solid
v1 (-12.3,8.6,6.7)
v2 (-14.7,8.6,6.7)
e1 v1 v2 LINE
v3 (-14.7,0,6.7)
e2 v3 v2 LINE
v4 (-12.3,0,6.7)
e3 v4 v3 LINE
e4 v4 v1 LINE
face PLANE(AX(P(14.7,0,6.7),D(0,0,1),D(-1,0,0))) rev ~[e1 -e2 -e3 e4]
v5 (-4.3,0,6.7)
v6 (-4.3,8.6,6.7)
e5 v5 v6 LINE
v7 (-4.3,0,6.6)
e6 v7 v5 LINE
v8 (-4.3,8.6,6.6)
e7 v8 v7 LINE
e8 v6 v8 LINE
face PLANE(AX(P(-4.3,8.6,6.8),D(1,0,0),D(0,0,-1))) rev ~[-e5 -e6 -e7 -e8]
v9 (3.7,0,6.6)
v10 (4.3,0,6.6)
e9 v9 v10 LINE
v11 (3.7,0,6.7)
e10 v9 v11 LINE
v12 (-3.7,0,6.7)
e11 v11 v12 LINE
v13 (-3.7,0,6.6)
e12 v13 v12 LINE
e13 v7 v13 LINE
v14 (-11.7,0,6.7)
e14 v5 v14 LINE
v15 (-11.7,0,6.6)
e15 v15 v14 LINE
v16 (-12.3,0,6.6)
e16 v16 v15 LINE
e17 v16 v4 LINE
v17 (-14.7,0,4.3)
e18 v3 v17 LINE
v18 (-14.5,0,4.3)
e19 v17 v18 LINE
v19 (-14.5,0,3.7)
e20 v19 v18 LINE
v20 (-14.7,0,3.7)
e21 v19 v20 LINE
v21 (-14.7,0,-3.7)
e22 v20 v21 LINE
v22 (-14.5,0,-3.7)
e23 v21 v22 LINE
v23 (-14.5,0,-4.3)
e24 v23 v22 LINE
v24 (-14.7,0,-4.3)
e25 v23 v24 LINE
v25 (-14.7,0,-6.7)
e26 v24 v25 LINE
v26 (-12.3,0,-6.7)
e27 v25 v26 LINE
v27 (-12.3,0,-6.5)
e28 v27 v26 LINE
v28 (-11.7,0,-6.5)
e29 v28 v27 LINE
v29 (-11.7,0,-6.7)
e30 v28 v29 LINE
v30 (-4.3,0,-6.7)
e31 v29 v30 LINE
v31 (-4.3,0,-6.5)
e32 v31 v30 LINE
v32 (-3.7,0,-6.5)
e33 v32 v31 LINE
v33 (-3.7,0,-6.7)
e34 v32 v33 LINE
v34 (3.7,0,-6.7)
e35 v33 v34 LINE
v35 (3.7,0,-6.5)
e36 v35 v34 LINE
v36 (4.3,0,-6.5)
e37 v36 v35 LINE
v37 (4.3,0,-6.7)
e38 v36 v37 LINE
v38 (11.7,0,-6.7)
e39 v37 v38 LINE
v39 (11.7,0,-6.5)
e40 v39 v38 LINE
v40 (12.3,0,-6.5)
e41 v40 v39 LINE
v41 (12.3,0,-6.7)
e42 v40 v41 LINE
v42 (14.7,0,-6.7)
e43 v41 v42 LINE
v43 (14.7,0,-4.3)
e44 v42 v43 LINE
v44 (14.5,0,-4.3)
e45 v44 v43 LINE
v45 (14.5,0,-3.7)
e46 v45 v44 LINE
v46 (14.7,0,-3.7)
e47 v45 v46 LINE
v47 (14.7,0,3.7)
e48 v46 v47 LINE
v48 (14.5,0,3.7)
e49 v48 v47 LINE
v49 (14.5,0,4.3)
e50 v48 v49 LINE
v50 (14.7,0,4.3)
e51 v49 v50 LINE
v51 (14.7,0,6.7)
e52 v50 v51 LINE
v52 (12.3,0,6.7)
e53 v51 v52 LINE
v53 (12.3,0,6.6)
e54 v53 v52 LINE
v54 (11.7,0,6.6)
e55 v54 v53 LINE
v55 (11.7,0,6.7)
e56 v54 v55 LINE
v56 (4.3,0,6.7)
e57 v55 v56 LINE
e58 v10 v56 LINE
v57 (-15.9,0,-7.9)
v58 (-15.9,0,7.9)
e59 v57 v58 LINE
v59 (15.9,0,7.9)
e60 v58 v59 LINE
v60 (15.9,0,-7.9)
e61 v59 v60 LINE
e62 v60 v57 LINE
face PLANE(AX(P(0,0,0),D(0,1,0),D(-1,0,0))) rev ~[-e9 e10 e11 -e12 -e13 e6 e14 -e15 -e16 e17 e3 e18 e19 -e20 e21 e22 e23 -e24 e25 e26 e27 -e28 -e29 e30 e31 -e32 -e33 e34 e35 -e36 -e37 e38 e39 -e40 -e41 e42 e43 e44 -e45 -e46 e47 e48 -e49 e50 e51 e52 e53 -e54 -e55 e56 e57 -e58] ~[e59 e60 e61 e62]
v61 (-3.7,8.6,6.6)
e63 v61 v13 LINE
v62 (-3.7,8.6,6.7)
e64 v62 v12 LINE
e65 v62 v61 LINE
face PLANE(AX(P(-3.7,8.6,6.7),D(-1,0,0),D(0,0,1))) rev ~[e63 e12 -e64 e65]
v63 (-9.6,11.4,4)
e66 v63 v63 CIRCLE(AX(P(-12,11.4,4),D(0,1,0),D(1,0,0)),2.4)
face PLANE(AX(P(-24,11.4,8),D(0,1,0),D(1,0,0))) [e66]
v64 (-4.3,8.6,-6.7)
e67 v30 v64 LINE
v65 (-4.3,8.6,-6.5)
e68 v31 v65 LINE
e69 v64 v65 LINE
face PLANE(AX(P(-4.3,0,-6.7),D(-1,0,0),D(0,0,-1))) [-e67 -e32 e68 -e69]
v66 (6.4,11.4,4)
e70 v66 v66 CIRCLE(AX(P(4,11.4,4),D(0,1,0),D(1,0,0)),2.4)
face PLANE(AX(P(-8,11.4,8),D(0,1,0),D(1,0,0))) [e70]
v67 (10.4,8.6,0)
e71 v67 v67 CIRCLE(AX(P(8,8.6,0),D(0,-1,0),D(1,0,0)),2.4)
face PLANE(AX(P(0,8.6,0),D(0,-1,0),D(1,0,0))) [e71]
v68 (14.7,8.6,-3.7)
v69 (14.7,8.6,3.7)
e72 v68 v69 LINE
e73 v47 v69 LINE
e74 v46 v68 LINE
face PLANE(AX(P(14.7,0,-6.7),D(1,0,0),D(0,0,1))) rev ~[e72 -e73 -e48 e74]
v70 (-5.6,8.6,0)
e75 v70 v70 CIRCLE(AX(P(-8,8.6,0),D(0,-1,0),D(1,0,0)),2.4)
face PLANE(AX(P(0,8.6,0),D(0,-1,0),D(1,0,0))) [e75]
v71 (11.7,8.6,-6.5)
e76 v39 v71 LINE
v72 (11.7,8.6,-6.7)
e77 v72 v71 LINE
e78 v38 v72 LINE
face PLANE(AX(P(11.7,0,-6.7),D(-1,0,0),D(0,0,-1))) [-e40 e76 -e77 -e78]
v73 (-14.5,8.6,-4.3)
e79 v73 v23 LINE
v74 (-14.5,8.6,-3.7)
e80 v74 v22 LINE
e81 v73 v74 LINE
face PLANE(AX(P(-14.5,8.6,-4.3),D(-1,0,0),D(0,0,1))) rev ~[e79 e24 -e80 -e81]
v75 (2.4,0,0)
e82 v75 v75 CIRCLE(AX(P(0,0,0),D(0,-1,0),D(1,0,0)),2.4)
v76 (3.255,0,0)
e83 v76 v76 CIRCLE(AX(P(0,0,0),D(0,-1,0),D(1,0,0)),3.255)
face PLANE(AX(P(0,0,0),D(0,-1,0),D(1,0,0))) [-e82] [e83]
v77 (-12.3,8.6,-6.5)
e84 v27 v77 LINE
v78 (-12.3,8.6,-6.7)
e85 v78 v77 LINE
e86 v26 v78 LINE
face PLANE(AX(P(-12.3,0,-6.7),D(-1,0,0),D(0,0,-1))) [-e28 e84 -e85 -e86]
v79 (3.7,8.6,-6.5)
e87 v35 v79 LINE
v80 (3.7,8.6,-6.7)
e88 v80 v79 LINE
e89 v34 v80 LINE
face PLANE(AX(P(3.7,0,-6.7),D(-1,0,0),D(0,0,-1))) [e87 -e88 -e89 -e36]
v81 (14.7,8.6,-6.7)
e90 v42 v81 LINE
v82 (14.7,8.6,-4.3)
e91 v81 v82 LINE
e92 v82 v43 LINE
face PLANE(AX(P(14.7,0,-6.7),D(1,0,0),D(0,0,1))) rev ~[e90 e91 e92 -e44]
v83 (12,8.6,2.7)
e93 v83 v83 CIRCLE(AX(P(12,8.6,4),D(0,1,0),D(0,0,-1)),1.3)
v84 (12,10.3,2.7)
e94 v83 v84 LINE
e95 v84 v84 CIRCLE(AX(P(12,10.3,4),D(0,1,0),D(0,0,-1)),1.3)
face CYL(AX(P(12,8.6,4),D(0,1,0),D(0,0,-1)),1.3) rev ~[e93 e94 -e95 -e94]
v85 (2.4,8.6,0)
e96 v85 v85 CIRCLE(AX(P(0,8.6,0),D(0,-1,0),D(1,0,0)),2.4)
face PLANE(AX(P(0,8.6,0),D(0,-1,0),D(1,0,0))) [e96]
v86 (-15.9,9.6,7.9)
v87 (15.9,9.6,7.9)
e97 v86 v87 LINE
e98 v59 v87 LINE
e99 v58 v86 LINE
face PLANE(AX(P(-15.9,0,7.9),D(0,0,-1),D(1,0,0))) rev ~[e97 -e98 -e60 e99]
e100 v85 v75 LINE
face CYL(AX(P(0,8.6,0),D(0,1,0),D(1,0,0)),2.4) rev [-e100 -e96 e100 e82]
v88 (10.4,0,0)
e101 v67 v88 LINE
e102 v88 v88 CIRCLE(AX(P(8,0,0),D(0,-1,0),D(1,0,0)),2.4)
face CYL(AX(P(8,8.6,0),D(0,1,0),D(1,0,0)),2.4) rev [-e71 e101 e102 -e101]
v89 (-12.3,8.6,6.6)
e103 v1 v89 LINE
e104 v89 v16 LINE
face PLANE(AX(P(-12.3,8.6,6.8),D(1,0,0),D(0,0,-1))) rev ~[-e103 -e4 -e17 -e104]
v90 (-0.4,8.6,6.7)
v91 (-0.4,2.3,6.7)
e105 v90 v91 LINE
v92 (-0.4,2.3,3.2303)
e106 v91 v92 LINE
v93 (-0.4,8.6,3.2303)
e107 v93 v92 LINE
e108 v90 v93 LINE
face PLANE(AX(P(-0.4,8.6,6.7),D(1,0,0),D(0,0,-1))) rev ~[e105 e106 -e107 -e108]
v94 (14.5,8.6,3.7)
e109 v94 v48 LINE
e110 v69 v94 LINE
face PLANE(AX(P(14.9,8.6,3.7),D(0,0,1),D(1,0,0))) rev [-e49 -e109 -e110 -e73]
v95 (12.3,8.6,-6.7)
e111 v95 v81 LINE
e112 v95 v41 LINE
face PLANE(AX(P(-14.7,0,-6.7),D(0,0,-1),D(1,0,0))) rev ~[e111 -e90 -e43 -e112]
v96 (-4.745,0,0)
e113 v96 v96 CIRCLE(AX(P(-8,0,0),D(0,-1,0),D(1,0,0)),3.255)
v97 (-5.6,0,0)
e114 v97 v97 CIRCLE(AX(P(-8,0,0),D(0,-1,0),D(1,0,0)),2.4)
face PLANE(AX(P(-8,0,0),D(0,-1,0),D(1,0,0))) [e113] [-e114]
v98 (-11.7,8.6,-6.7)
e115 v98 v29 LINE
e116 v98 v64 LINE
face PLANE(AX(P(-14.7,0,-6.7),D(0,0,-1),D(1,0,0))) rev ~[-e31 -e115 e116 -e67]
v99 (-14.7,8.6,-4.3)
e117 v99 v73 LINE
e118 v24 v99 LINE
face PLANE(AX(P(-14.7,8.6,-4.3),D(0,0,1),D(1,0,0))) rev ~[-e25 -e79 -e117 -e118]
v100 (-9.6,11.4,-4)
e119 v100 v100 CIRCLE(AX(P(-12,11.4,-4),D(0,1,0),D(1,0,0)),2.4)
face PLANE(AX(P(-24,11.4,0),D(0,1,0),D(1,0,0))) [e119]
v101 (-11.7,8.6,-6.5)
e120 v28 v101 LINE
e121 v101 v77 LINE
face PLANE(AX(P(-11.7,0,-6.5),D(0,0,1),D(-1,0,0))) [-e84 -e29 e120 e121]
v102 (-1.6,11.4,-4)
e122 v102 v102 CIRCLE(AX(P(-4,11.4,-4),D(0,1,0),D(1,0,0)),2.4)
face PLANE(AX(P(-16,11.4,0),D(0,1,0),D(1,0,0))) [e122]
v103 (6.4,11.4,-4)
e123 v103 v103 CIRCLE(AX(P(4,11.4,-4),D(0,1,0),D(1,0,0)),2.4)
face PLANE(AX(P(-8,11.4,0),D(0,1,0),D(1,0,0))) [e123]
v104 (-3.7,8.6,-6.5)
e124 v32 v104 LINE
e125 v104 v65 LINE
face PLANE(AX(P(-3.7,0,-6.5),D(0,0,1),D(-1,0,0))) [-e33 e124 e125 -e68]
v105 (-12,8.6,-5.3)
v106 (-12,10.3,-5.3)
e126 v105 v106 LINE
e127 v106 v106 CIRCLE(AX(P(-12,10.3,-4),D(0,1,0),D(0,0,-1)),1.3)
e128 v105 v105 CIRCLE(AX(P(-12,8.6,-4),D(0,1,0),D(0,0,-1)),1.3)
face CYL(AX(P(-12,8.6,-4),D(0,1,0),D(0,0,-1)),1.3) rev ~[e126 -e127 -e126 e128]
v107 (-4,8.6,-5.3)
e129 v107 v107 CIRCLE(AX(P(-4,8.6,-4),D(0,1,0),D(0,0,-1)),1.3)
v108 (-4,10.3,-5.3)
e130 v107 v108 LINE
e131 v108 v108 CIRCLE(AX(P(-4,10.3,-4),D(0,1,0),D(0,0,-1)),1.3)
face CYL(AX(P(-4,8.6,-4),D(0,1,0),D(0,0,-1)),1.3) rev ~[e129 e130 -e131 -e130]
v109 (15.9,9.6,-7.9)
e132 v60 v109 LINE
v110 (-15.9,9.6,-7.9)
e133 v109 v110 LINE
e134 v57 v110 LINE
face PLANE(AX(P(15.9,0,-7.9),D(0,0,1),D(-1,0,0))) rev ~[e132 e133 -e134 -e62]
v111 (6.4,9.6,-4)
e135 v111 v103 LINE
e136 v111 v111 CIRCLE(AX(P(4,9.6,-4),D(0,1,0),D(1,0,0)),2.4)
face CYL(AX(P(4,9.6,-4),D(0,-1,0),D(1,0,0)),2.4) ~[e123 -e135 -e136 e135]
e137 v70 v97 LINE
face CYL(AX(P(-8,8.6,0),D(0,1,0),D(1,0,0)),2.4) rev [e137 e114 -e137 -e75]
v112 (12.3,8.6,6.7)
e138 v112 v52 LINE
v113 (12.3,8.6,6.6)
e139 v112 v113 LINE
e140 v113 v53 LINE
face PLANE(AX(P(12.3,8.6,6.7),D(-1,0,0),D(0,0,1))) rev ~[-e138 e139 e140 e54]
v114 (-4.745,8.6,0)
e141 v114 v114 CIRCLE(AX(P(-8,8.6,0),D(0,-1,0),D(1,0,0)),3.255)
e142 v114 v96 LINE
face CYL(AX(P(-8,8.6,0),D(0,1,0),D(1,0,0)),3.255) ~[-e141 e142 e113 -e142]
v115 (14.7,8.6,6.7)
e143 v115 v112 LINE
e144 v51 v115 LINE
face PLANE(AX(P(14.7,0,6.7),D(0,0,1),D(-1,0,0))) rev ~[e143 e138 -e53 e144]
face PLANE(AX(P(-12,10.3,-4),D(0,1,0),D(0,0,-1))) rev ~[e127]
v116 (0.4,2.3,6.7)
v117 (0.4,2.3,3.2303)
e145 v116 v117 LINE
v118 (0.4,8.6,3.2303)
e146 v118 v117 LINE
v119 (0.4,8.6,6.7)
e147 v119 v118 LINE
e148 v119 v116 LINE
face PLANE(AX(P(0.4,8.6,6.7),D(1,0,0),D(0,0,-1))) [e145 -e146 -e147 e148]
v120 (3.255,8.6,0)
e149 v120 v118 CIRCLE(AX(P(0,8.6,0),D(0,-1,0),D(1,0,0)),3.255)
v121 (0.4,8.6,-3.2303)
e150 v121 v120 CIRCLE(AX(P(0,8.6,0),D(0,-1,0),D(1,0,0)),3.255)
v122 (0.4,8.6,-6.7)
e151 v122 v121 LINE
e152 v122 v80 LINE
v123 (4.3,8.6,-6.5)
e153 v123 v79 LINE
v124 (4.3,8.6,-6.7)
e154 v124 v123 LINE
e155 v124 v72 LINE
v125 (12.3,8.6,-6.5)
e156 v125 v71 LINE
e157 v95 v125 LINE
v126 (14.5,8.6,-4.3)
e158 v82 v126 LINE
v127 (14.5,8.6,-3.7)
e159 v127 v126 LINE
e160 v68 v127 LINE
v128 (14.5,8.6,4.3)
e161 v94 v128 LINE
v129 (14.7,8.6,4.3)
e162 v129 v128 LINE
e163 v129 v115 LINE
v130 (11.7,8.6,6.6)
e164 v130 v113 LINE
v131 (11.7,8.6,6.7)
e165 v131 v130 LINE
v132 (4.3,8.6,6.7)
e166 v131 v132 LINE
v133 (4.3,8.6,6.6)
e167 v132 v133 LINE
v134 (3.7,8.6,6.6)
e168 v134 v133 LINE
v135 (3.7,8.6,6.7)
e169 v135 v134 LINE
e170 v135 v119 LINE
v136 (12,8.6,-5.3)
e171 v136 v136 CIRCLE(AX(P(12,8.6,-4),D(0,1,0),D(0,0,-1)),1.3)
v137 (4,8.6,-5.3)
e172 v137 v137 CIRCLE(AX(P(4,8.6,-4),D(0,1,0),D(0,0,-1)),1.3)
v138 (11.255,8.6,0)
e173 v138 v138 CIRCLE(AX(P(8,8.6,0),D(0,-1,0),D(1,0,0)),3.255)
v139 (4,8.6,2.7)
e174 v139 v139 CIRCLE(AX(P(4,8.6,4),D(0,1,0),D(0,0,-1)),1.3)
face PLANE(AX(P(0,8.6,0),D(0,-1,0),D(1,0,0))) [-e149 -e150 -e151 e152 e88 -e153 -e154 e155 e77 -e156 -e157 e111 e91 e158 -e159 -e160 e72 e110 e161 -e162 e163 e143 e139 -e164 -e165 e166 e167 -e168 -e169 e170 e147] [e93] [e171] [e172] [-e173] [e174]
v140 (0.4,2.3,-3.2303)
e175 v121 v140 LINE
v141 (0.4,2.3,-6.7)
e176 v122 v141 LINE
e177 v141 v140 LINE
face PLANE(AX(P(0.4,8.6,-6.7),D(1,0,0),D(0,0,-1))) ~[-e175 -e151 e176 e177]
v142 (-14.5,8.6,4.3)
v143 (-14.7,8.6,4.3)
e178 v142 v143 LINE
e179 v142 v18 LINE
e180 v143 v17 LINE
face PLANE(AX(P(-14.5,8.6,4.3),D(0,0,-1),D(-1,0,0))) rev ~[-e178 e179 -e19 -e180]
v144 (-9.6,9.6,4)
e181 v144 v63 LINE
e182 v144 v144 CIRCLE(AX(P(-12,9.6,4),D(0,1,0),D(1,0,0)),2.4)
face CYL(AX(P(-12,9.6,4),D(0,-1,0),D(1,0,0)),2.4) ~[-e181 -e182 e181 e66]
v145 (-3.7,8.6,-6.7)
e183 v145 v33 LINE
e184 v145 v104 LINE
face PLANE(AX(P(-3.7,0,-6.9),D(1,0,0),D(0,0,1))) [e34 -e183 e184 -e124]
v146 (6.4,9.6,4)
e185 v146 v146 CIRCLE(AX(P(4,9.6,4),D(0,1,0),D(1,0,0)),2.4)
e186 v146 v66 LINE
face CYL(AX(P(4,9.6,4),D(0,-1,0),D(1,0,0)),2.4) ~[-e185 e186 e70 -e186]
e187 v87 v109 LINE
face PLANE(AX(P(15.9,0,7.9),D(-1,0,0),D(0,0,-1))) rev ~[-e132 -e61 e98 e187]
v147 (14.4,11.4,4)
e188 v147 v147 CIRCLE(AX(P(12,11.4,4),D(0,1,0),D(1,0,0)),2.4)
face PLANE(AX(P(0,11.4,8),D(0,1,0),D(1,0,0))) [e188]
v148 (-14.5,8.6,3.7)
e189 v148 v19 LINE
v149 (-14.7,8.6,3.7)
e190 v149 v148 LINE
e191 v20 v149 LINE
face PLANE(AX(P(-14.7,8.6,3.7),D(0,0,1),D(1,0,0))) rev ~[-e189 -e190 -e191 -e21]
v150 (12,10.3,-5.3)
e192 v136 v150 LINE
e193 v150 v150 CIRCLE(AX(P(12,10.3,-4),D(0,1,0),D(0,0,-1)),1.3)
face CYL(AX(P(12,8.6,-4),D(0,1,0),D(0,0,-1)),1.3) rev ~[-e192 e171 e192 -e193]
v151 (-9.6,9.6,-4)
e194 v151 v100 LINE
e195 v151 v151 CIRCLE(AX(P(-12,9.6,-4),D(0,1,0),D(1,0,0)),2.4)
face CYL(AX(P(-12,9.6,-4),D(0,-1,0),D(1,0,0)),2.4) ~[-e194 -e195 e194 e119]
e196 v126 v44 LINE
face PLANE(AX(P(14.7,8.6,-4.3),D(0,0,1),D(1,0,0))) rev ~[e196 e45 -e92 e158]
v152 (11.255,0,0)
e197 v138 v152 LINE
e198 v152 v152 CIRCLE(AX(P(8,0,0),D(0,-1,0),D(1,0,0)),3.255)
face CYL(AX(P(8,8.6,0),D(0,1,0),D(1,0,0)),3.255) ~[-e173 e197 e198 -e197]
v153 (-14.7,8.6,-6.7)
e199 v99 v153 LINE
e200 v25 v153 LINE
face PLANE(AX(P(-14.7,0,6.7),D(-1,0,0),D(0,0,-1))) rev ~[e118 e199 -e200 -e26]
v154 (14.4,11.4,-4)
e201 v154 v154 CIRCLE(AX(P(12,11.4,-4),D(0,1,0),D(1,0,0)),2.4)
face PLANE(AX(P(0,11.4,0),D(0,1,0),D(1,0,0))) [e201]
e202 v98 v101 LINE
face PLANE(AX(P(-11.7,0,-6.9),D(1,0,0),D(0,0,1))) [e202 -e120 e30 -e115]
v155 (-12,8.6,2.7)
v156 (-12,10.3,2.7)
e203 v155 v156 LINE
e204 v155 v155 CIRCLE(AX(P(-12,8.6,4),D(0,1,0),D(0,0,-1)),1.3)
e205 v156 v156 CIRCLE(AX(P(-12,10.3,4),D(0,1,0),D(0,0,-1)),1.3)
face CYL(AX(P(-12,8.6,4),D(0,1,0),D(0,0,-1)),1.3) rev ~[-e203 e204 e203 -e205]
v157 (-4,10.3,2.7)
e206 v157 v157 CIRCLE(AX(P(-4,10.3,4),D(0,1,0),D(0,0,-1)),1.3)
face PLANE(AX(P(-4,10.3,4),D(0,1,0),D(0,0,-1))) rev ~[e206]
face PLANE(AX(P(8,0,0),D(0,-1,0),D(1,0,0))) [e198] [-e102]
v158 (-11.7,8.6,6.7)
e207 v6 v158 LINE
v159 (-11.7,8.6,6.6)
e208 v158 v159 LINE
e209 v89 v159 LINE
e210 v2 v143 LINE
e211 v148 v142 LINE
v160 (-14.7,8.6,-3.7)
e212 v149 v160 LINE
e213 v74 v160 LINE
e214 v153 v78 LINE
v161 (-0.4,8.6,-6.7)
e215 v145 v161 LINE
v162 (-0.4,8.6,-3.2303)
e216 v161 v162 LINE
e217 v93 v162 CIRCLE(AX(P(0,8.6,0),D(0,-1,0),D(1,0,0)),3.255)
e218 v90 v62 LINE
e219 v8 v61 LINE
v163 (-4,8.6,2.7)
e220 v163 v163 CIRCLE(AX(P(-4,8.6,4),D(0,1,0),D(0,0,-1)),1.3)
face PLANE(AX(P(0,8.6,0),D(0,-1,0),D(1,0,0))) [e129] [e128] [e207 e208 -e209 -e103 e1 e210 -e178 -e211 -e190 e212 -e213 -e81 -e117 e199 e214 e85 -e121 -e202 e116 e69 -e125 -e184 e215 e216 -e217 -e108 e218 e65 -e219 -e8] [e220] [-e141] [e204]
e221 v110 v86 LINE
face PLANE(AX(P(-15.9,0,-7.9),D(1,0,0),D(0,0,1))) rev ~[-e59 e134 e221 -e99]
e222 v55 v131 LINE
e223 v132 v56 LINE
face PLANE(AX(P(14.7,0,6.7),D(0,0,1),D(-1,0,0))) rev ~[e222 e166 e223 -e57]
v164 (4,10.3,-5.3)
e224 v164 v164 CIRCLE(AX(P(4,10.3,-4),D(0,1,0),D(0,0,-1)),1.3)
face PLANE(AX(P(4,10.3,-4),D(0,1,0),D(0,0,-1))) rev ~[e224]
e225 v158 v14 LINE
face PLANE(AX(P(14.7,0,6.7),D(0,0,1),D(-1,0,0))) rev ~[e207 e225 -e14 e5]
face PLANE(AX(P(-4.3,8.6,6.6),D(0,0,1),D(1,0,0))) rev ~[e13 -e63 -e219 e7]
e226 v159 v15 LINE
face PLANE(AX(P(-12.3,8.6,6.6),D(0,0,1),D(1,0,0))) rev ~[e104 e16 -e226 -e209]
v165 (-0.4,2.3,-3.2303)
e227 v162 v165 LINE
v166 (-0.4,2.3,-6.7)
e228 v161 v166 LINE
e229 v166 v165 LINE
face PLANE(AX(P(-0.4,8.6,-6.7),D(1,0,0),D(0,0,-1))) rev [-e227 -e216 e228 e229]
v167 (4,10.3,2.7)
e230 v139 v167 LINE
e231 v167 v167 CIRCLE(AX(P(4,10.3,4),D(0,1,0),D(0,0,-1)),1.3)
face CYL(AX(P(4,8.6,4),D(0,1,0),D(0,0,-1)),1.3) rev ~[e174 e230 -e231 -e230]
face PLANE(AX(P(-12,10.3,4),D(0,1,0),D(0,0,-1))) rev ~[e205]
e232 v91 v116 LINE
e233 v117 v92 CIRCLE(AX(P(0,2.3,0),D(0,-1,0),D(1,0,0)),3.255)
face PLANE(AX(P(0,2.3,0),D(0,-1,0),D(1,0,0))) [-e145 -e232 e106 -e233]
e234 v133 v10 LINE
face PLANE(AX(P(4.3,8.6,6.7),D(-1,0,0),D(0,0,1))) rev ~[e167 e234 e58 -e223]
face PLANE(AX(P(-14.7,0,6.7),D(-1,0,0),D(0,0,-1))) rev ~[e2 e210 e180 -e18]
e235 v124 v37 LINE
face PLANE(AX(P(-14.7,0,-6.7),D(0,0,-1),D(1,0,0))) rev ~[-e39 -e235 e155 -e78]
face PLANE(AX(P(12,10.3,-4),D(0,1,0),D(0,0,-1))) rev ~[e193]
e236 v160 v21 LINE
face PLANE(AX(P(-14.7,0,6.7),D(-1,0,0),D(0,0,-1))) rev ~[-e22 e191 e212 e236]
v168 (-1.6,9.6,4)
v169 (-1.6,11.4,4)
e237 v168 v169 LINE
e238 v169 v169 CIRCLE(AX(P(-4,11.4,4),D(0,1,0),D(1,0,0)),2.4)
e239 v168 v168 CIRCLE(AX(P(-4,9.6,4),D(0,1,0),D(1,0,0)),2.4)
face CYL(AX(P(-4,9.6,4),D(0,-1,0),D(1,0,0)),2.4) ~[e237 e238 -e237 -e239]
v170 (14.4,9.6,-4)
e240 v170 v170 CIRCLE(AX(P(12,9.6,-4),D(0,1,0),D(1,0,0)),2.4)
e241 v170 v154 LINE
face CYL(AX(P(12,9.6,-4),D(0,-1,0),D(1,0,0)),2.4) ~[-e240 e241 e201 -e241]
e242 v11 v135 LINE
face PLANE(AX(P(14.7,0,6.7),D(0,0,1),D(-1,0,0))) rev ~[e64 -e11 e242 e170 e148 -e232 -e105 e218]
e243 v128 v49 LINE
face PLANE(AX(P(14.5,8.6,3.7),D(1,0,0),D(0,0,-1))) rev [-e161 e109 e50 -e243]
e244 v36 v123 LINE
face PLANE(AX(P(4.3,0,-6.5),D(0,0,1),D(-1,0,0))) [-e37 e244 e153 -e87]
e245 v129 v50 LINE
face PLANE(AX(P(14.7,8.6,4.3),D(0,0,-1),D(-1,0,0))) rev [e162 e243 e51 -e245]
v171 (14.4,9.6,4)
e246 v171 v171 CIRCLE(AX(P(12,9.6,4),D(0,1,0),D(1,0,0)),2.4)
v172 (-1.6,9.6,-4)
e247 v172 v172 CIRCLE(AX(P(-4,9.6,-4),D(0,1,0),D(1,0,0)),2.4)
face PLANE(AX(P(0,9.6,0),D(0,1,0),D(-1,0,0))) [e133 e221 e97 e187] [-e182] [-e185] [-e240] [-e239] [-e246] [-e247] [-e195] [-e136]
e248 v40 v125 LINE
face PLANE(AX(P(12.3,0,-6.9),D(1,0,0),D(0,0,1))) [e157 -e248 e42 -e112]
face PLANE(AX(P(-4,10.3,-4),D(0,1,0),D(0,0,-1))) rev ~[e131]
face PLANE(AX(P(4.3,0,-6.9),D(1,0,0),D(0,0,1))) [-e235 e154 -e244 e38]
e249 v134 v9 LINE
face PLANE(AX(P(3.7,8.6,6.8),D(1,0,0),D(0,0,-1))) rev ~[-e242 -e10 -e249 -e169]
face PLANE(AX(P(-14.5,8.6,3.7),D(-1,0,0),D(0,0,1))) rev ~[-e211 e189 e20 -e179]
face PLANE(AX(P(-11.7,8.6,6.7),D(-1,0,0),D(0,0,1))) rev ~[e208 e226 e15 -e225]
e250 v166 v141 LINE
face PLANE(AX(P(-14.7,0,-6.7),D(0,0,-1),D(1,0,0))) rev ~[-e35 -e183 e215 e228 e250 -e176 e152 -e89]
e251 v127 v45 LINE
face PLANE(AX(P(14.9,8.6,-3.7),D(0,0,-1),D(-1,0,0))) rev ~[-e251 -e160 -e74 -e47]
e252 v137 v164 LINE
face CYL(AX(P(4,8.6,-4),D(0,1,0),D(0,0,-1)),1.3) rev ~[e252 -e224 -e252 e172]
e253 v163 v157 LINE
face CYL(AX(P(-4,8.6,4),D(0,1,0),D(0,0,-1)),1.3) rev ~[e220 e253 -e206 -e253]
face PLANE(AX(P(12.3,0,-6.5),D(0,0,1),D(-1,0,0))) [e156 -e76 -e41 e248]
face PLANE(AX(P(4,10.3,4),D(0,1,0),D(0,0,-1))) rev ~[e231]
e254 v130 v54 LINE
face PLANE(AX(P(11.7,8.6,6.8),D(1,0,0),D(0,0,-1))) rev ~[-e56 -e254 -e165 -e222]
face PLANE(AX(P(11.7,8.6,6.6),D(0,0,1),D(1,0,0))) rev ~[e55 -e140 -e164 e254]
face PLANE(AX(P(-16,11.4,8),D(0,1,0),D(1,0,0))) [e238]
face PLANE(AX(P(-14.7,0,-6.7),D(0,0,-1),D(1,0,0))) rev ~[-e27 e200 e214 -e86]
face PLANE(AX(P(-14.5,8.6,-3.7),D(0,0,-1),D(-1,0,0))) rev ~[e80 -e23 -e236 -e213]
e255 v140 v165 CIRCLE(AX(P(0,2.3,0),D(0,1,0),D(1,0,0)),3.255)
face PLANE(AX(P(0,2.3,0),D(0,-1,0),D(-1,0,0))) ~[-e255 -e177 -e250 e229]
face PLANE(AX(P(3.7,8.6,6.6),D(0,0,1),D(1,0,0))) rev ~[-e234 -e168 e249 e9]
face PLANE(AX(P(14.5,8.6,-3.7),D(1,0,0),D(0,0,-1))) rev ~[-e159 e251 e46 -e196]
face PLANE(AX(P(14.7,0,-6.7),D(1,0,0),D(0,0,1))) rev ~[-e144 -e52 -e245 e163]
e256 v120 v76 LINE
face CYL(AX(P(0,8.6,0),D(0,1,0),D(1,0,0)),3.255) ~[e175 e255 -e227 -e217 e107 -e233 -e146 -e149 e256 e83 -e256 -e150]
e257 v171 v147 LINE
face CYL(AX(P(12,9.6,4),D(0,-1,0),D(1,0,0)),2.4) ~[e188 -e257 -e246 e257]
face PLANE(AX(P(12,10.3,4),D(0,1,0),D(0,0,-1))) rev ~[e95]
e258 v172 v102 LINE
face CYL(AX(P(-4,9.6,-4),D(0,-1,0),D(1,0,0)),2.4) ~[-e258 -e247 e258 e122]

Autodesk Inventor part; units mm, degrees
ref_plane "YZ Plane" through (0, 0, 0) normal (1, 0, 0) x (0, 1, 0)
ref_plane "XZ Plane" through (0, 0, 0) normal (0, 1, 0) x (-1, 0, 0)
ref_plane "XY Plane" through (0, 0, 0) normal (0, 0, 1) x (1, 0, 0)
sketch "Sketch1" plane through (0, 0, 0) normal (0, 1, 0) x (-1, 0, 0)
  line L0 (15.9, 7.9) -> (-15.9, 7.9)
  line L1 (-15.9, 7.9) -> (-15.9, -7.9)
  line L2 (-15.9, -7.9) -> (15.9, -7.9)
  line L3 (15.9, -7.9) -> (15.9, 7.9)
  line L4 (15.9, 7.9) -> (-15.9, -7.9) construction
  line L5 (-15.9, 7.9) -> (15.9, -7.9) construction
  point P0 (0, 0)
  dimension "d0" = 31.8
  dimension "d1" = 15.8
extrude "Extrusion1" add sketch "Sketch1" along normal blind 9.6
sketch "Sketch2" plane through (0, 0, 0) normal (0, -1, 0) x (1, 0, 0)
  line L0 (-14.7, -6.7) -> (14.7, -6.7)
  line L1 (14.7, -6.7) -> (14.7, 6.7)
  line L2 (14.7, 6.7) -> (-14.7, 6.7)
  line L3 (-14.7, 6.7) -> (-14.7, -6.7)
  line L4 (-14.7, -6.7) -> (14.7, 6.7) construction
  line L5 (14.7, -6.7) -> (-14.7, 6.7) construction
  line L6 (-15.9, 7.9) -> (15.9, 7.9) projected
  line L7 (15.9, 7.9) -> (15.9, -7.9) projected
  point P0 (0, 0)
  dimension "d4" = 1.2
  dimension "d5" = 1.2
extrude "Extrusion2" cut sketch "Sketch2" against normal blind 8.6
sketch "Sketch3" plane through (0, 9.6, 0) normal (0, 1, 0) x (1, 0, 0)
  circle A0 centre (12, 4) radius 2.4
  line L0 (15.9, -7.9) -> (15.9, 7.9) projected
  point P0 (0, 0)
  dimension "d8" = 4.8
  dimension "d9" = 3.9
  dimension "d10" = 4
extrude "Extrusion3" add sketch "Sketch3" along normal blind 1.8
sketch "Sketch4" plane through (0, 8.6, 0) normal (0, -1, 0) x (1, 0, 0)
  circle A0 centre (12, -4) radius 2.4 projected
  point P0 (0, 0)
hole "Hole1" at (12, 8.6, -4) direction (0, 1, 0) diameter 2.6 depth 1.7
pattern_linear "Rectangular Pattern1" count 4 spacing 8 along (-1, 0, 0) count 2 spacing 8 along (0, 0, 1) of "Extrusion3"
pattern_linear "Rectangular Pattern2" count 4 spacing 8 along (-1, 0, 0) count 2 spacing 8 along (0, 0, 1) of "Hole1"
sketch "Sketch5" plane through (0, 8.6, 0) normal (0, -1, 0) x (1, 0, 0)
  circle A0 centre (0, 0) radius 3.255
  circle A1 centre (0, 0) radius 2.4
  dimension "d32" = 6.51
  dimension "d33" = 4.8
extrude "Extrusion4" add sketch "Sketch5" along normal up to surface (8.6 mm away)
pattern_linear "Rectangular Pattern3" count 2 spacing 8 along (-1, 0, 0) of "Extrusion4"
pattern_linear "Rectangular Pattern4" count 2 spacing 8 along (1, 0, 0) of "Extrusion4"
sketch "Sketch6" plane through (0, 8.6, 0) normal (0, -1, 0) x (1, 0, 0)
  circle A0 centre (0, 0) radius 3.255 projected
  line L0 (-14.7, 6.7) -> (14.7, 6.7) projected
  line L1 (-0.4, 6.7) -> (-0.4, 3.2303)
  line L2 (0.4, 6.7) -> (0.4, 3.2303)
  dimension "d42" = 0.4
  dimension "d43" = 0.4
extrude "Extrusion5" add sketch "Sketch6" along normal blind 6.3 contours A0 L1 L0 L2
mirror "Mirror1" about plane through (0, 0, 0) normal (0, 0, 1) of "Extrusion5"
sketch "Sketch7" plane through (0, 0, 0) normal (0, -1, 0) x (1, 0, 0)
  line L0 (14.7, -6.7) -> (-14.7, -6.7) projected
  line L1 (-12.3, -6.9) -> (-11.7, -6.9)
  line L2 (-11.7, -6.9) -> (-11.7, -6.5)
  line L3 (-11.7, -6.5) -> (-12.3, -6.5)
  line L4 (-12.3, -6.5) -> (-12.3, -6.9)
  line L5 (-12.3, -6.9) -> (-11.7, -6.5) construction
  line L6 (-11.7, -6.9) -> (-12.3, -6.5) construction
  line L7 (-15.9, -7.9) -> (-15.9, 7.9) projected
  point P0 (0, 0)
  point P1 (-12, -6.7)
  dimension "d46" = 3.9
  dimension "d47" = 0.6
  dimension "d48" = 0.4
extrude "Extrusion6" add sketch "Sketch7" against normal up to surface (8.6 mm away)
pattern_linear "Rectangular Pattern5" count 4 spacing 8 along (1, 0, 0) of "Extrusion6"
sketch "Sketch8" plane through (0, 8.6, 0) normal (0, -1, 0) x (1, 0, 0)
  line L0 (-14.7, 6.7) -> (14.7, 6.7) projected
  line L1 (12.3, 6.8) -> (11.7, 6.8)
  line L2 (11.7, 6.8) -> (11.7, 6.6)
  line L3 (11.7, 6.6) -> (12.3, 6.6)
  line L4 (12.3, 6.6) -> (12.3, 6.8)
  line L5 (0.4, 6.7) -> (14.7, 6.7) projected
  line L6 (12.3, 6.8) -> (11.7, 6.6) construction
  line L7 (11.7, 6.8) -> (12.3, 6.6) construction
  line L8 (15.9, 7.9) -> (15.9, -7.9) projected
  point P0 (0, 0)
  point P1 (12, 6.7)
  dimension "d54" = 3.9
  dimension "d55" = 0.6
  dimension "d56" = 0.2
extrude "Extrusion7" add sketch "Sketch8" along normal up to surface (8.6 mm away)
pattern_linear "Rectangular Pattern6" count 4 spacing 8 along (-1, 0, 0) of "Extrusion7"
sketch "Sketch9" plane through (0, 8.6, 0) normal (0, -1, 0) x (1, 0, 0)
  line L0 (-14.5, -3.7) -> (-14.9, -3.7)
  line L1 (-14.9, -3.7) -> (-14.9, -4.3)
  line L2 (-14.9, -4.3) -> (-14.5, -4.3)
  line L3 (-14.5, -4.3) -> (-14.5, -3.7)
  line L4 (-14.7, -6.7) -> (-14.7, 6.7) projected
  line L5 (-14.5, -3.7) -> (-14.9, -4.3) construction
  line L6 (-14.9, -3.7) -> (-14.5, -4.3) construction
  point P0 (0, 0)
  point P1 (-14.7, -4)
  dimension "d62" = 0.6
  dimension "d63" = 0.4
  dimension "d64" = 4
extrude "Extrusion8" add sketch "Sketch9" along normal up to surface (8.6 mm away)
pattern_linear "Rectangular Pattern7" count 2 spacing 8 along (0, 0, 1) of "Extrusion8"
sketch "Sketch10" plane through (0, 8.6, 0) normal (0, -1, 0) x (1, 0, 0)
  line L0 (14.7, 6.7) -> (14.7, -6.7) projected
  line L1 (14.9, -3.7) -> (14.5, -3.7)
  line L2 (14.5, -3.7) -> (14.5, -4.3)
  line L3 (14.5, -4.3) -> (14.9, -4.3)
  line L4 (14.9, -4.3) -> (14.9, -3.7)
  line L5 (14.7, 6.7) -> (14.7, -6.7) projected
  line L6 (14.9, -3.7) -> (14.5, -4.3) construction
  line L7 (14.5, -3.7) -> (14.9, -4.3) construction
  point P0 (0, 0)
  point P1 (14.7, -4)
  dimension "d70" = 4
  dimension "d71" = 0.6
  dimension "d72" = 0.4
extrude "Extrusion9" add sketch "Sketch10" along normal up to surface (8.6 mm away)
mirror "Mirror2" about plane through (0, 0, 0) normal (0, 0, 1) of "Extrusion9"
sketch "Sketch11" plane through (0, 0, 0) normal (0, 1, 0) x (-1, 0, 0)
  point P0 (0, 0)
properties part number "Lego Brick"
